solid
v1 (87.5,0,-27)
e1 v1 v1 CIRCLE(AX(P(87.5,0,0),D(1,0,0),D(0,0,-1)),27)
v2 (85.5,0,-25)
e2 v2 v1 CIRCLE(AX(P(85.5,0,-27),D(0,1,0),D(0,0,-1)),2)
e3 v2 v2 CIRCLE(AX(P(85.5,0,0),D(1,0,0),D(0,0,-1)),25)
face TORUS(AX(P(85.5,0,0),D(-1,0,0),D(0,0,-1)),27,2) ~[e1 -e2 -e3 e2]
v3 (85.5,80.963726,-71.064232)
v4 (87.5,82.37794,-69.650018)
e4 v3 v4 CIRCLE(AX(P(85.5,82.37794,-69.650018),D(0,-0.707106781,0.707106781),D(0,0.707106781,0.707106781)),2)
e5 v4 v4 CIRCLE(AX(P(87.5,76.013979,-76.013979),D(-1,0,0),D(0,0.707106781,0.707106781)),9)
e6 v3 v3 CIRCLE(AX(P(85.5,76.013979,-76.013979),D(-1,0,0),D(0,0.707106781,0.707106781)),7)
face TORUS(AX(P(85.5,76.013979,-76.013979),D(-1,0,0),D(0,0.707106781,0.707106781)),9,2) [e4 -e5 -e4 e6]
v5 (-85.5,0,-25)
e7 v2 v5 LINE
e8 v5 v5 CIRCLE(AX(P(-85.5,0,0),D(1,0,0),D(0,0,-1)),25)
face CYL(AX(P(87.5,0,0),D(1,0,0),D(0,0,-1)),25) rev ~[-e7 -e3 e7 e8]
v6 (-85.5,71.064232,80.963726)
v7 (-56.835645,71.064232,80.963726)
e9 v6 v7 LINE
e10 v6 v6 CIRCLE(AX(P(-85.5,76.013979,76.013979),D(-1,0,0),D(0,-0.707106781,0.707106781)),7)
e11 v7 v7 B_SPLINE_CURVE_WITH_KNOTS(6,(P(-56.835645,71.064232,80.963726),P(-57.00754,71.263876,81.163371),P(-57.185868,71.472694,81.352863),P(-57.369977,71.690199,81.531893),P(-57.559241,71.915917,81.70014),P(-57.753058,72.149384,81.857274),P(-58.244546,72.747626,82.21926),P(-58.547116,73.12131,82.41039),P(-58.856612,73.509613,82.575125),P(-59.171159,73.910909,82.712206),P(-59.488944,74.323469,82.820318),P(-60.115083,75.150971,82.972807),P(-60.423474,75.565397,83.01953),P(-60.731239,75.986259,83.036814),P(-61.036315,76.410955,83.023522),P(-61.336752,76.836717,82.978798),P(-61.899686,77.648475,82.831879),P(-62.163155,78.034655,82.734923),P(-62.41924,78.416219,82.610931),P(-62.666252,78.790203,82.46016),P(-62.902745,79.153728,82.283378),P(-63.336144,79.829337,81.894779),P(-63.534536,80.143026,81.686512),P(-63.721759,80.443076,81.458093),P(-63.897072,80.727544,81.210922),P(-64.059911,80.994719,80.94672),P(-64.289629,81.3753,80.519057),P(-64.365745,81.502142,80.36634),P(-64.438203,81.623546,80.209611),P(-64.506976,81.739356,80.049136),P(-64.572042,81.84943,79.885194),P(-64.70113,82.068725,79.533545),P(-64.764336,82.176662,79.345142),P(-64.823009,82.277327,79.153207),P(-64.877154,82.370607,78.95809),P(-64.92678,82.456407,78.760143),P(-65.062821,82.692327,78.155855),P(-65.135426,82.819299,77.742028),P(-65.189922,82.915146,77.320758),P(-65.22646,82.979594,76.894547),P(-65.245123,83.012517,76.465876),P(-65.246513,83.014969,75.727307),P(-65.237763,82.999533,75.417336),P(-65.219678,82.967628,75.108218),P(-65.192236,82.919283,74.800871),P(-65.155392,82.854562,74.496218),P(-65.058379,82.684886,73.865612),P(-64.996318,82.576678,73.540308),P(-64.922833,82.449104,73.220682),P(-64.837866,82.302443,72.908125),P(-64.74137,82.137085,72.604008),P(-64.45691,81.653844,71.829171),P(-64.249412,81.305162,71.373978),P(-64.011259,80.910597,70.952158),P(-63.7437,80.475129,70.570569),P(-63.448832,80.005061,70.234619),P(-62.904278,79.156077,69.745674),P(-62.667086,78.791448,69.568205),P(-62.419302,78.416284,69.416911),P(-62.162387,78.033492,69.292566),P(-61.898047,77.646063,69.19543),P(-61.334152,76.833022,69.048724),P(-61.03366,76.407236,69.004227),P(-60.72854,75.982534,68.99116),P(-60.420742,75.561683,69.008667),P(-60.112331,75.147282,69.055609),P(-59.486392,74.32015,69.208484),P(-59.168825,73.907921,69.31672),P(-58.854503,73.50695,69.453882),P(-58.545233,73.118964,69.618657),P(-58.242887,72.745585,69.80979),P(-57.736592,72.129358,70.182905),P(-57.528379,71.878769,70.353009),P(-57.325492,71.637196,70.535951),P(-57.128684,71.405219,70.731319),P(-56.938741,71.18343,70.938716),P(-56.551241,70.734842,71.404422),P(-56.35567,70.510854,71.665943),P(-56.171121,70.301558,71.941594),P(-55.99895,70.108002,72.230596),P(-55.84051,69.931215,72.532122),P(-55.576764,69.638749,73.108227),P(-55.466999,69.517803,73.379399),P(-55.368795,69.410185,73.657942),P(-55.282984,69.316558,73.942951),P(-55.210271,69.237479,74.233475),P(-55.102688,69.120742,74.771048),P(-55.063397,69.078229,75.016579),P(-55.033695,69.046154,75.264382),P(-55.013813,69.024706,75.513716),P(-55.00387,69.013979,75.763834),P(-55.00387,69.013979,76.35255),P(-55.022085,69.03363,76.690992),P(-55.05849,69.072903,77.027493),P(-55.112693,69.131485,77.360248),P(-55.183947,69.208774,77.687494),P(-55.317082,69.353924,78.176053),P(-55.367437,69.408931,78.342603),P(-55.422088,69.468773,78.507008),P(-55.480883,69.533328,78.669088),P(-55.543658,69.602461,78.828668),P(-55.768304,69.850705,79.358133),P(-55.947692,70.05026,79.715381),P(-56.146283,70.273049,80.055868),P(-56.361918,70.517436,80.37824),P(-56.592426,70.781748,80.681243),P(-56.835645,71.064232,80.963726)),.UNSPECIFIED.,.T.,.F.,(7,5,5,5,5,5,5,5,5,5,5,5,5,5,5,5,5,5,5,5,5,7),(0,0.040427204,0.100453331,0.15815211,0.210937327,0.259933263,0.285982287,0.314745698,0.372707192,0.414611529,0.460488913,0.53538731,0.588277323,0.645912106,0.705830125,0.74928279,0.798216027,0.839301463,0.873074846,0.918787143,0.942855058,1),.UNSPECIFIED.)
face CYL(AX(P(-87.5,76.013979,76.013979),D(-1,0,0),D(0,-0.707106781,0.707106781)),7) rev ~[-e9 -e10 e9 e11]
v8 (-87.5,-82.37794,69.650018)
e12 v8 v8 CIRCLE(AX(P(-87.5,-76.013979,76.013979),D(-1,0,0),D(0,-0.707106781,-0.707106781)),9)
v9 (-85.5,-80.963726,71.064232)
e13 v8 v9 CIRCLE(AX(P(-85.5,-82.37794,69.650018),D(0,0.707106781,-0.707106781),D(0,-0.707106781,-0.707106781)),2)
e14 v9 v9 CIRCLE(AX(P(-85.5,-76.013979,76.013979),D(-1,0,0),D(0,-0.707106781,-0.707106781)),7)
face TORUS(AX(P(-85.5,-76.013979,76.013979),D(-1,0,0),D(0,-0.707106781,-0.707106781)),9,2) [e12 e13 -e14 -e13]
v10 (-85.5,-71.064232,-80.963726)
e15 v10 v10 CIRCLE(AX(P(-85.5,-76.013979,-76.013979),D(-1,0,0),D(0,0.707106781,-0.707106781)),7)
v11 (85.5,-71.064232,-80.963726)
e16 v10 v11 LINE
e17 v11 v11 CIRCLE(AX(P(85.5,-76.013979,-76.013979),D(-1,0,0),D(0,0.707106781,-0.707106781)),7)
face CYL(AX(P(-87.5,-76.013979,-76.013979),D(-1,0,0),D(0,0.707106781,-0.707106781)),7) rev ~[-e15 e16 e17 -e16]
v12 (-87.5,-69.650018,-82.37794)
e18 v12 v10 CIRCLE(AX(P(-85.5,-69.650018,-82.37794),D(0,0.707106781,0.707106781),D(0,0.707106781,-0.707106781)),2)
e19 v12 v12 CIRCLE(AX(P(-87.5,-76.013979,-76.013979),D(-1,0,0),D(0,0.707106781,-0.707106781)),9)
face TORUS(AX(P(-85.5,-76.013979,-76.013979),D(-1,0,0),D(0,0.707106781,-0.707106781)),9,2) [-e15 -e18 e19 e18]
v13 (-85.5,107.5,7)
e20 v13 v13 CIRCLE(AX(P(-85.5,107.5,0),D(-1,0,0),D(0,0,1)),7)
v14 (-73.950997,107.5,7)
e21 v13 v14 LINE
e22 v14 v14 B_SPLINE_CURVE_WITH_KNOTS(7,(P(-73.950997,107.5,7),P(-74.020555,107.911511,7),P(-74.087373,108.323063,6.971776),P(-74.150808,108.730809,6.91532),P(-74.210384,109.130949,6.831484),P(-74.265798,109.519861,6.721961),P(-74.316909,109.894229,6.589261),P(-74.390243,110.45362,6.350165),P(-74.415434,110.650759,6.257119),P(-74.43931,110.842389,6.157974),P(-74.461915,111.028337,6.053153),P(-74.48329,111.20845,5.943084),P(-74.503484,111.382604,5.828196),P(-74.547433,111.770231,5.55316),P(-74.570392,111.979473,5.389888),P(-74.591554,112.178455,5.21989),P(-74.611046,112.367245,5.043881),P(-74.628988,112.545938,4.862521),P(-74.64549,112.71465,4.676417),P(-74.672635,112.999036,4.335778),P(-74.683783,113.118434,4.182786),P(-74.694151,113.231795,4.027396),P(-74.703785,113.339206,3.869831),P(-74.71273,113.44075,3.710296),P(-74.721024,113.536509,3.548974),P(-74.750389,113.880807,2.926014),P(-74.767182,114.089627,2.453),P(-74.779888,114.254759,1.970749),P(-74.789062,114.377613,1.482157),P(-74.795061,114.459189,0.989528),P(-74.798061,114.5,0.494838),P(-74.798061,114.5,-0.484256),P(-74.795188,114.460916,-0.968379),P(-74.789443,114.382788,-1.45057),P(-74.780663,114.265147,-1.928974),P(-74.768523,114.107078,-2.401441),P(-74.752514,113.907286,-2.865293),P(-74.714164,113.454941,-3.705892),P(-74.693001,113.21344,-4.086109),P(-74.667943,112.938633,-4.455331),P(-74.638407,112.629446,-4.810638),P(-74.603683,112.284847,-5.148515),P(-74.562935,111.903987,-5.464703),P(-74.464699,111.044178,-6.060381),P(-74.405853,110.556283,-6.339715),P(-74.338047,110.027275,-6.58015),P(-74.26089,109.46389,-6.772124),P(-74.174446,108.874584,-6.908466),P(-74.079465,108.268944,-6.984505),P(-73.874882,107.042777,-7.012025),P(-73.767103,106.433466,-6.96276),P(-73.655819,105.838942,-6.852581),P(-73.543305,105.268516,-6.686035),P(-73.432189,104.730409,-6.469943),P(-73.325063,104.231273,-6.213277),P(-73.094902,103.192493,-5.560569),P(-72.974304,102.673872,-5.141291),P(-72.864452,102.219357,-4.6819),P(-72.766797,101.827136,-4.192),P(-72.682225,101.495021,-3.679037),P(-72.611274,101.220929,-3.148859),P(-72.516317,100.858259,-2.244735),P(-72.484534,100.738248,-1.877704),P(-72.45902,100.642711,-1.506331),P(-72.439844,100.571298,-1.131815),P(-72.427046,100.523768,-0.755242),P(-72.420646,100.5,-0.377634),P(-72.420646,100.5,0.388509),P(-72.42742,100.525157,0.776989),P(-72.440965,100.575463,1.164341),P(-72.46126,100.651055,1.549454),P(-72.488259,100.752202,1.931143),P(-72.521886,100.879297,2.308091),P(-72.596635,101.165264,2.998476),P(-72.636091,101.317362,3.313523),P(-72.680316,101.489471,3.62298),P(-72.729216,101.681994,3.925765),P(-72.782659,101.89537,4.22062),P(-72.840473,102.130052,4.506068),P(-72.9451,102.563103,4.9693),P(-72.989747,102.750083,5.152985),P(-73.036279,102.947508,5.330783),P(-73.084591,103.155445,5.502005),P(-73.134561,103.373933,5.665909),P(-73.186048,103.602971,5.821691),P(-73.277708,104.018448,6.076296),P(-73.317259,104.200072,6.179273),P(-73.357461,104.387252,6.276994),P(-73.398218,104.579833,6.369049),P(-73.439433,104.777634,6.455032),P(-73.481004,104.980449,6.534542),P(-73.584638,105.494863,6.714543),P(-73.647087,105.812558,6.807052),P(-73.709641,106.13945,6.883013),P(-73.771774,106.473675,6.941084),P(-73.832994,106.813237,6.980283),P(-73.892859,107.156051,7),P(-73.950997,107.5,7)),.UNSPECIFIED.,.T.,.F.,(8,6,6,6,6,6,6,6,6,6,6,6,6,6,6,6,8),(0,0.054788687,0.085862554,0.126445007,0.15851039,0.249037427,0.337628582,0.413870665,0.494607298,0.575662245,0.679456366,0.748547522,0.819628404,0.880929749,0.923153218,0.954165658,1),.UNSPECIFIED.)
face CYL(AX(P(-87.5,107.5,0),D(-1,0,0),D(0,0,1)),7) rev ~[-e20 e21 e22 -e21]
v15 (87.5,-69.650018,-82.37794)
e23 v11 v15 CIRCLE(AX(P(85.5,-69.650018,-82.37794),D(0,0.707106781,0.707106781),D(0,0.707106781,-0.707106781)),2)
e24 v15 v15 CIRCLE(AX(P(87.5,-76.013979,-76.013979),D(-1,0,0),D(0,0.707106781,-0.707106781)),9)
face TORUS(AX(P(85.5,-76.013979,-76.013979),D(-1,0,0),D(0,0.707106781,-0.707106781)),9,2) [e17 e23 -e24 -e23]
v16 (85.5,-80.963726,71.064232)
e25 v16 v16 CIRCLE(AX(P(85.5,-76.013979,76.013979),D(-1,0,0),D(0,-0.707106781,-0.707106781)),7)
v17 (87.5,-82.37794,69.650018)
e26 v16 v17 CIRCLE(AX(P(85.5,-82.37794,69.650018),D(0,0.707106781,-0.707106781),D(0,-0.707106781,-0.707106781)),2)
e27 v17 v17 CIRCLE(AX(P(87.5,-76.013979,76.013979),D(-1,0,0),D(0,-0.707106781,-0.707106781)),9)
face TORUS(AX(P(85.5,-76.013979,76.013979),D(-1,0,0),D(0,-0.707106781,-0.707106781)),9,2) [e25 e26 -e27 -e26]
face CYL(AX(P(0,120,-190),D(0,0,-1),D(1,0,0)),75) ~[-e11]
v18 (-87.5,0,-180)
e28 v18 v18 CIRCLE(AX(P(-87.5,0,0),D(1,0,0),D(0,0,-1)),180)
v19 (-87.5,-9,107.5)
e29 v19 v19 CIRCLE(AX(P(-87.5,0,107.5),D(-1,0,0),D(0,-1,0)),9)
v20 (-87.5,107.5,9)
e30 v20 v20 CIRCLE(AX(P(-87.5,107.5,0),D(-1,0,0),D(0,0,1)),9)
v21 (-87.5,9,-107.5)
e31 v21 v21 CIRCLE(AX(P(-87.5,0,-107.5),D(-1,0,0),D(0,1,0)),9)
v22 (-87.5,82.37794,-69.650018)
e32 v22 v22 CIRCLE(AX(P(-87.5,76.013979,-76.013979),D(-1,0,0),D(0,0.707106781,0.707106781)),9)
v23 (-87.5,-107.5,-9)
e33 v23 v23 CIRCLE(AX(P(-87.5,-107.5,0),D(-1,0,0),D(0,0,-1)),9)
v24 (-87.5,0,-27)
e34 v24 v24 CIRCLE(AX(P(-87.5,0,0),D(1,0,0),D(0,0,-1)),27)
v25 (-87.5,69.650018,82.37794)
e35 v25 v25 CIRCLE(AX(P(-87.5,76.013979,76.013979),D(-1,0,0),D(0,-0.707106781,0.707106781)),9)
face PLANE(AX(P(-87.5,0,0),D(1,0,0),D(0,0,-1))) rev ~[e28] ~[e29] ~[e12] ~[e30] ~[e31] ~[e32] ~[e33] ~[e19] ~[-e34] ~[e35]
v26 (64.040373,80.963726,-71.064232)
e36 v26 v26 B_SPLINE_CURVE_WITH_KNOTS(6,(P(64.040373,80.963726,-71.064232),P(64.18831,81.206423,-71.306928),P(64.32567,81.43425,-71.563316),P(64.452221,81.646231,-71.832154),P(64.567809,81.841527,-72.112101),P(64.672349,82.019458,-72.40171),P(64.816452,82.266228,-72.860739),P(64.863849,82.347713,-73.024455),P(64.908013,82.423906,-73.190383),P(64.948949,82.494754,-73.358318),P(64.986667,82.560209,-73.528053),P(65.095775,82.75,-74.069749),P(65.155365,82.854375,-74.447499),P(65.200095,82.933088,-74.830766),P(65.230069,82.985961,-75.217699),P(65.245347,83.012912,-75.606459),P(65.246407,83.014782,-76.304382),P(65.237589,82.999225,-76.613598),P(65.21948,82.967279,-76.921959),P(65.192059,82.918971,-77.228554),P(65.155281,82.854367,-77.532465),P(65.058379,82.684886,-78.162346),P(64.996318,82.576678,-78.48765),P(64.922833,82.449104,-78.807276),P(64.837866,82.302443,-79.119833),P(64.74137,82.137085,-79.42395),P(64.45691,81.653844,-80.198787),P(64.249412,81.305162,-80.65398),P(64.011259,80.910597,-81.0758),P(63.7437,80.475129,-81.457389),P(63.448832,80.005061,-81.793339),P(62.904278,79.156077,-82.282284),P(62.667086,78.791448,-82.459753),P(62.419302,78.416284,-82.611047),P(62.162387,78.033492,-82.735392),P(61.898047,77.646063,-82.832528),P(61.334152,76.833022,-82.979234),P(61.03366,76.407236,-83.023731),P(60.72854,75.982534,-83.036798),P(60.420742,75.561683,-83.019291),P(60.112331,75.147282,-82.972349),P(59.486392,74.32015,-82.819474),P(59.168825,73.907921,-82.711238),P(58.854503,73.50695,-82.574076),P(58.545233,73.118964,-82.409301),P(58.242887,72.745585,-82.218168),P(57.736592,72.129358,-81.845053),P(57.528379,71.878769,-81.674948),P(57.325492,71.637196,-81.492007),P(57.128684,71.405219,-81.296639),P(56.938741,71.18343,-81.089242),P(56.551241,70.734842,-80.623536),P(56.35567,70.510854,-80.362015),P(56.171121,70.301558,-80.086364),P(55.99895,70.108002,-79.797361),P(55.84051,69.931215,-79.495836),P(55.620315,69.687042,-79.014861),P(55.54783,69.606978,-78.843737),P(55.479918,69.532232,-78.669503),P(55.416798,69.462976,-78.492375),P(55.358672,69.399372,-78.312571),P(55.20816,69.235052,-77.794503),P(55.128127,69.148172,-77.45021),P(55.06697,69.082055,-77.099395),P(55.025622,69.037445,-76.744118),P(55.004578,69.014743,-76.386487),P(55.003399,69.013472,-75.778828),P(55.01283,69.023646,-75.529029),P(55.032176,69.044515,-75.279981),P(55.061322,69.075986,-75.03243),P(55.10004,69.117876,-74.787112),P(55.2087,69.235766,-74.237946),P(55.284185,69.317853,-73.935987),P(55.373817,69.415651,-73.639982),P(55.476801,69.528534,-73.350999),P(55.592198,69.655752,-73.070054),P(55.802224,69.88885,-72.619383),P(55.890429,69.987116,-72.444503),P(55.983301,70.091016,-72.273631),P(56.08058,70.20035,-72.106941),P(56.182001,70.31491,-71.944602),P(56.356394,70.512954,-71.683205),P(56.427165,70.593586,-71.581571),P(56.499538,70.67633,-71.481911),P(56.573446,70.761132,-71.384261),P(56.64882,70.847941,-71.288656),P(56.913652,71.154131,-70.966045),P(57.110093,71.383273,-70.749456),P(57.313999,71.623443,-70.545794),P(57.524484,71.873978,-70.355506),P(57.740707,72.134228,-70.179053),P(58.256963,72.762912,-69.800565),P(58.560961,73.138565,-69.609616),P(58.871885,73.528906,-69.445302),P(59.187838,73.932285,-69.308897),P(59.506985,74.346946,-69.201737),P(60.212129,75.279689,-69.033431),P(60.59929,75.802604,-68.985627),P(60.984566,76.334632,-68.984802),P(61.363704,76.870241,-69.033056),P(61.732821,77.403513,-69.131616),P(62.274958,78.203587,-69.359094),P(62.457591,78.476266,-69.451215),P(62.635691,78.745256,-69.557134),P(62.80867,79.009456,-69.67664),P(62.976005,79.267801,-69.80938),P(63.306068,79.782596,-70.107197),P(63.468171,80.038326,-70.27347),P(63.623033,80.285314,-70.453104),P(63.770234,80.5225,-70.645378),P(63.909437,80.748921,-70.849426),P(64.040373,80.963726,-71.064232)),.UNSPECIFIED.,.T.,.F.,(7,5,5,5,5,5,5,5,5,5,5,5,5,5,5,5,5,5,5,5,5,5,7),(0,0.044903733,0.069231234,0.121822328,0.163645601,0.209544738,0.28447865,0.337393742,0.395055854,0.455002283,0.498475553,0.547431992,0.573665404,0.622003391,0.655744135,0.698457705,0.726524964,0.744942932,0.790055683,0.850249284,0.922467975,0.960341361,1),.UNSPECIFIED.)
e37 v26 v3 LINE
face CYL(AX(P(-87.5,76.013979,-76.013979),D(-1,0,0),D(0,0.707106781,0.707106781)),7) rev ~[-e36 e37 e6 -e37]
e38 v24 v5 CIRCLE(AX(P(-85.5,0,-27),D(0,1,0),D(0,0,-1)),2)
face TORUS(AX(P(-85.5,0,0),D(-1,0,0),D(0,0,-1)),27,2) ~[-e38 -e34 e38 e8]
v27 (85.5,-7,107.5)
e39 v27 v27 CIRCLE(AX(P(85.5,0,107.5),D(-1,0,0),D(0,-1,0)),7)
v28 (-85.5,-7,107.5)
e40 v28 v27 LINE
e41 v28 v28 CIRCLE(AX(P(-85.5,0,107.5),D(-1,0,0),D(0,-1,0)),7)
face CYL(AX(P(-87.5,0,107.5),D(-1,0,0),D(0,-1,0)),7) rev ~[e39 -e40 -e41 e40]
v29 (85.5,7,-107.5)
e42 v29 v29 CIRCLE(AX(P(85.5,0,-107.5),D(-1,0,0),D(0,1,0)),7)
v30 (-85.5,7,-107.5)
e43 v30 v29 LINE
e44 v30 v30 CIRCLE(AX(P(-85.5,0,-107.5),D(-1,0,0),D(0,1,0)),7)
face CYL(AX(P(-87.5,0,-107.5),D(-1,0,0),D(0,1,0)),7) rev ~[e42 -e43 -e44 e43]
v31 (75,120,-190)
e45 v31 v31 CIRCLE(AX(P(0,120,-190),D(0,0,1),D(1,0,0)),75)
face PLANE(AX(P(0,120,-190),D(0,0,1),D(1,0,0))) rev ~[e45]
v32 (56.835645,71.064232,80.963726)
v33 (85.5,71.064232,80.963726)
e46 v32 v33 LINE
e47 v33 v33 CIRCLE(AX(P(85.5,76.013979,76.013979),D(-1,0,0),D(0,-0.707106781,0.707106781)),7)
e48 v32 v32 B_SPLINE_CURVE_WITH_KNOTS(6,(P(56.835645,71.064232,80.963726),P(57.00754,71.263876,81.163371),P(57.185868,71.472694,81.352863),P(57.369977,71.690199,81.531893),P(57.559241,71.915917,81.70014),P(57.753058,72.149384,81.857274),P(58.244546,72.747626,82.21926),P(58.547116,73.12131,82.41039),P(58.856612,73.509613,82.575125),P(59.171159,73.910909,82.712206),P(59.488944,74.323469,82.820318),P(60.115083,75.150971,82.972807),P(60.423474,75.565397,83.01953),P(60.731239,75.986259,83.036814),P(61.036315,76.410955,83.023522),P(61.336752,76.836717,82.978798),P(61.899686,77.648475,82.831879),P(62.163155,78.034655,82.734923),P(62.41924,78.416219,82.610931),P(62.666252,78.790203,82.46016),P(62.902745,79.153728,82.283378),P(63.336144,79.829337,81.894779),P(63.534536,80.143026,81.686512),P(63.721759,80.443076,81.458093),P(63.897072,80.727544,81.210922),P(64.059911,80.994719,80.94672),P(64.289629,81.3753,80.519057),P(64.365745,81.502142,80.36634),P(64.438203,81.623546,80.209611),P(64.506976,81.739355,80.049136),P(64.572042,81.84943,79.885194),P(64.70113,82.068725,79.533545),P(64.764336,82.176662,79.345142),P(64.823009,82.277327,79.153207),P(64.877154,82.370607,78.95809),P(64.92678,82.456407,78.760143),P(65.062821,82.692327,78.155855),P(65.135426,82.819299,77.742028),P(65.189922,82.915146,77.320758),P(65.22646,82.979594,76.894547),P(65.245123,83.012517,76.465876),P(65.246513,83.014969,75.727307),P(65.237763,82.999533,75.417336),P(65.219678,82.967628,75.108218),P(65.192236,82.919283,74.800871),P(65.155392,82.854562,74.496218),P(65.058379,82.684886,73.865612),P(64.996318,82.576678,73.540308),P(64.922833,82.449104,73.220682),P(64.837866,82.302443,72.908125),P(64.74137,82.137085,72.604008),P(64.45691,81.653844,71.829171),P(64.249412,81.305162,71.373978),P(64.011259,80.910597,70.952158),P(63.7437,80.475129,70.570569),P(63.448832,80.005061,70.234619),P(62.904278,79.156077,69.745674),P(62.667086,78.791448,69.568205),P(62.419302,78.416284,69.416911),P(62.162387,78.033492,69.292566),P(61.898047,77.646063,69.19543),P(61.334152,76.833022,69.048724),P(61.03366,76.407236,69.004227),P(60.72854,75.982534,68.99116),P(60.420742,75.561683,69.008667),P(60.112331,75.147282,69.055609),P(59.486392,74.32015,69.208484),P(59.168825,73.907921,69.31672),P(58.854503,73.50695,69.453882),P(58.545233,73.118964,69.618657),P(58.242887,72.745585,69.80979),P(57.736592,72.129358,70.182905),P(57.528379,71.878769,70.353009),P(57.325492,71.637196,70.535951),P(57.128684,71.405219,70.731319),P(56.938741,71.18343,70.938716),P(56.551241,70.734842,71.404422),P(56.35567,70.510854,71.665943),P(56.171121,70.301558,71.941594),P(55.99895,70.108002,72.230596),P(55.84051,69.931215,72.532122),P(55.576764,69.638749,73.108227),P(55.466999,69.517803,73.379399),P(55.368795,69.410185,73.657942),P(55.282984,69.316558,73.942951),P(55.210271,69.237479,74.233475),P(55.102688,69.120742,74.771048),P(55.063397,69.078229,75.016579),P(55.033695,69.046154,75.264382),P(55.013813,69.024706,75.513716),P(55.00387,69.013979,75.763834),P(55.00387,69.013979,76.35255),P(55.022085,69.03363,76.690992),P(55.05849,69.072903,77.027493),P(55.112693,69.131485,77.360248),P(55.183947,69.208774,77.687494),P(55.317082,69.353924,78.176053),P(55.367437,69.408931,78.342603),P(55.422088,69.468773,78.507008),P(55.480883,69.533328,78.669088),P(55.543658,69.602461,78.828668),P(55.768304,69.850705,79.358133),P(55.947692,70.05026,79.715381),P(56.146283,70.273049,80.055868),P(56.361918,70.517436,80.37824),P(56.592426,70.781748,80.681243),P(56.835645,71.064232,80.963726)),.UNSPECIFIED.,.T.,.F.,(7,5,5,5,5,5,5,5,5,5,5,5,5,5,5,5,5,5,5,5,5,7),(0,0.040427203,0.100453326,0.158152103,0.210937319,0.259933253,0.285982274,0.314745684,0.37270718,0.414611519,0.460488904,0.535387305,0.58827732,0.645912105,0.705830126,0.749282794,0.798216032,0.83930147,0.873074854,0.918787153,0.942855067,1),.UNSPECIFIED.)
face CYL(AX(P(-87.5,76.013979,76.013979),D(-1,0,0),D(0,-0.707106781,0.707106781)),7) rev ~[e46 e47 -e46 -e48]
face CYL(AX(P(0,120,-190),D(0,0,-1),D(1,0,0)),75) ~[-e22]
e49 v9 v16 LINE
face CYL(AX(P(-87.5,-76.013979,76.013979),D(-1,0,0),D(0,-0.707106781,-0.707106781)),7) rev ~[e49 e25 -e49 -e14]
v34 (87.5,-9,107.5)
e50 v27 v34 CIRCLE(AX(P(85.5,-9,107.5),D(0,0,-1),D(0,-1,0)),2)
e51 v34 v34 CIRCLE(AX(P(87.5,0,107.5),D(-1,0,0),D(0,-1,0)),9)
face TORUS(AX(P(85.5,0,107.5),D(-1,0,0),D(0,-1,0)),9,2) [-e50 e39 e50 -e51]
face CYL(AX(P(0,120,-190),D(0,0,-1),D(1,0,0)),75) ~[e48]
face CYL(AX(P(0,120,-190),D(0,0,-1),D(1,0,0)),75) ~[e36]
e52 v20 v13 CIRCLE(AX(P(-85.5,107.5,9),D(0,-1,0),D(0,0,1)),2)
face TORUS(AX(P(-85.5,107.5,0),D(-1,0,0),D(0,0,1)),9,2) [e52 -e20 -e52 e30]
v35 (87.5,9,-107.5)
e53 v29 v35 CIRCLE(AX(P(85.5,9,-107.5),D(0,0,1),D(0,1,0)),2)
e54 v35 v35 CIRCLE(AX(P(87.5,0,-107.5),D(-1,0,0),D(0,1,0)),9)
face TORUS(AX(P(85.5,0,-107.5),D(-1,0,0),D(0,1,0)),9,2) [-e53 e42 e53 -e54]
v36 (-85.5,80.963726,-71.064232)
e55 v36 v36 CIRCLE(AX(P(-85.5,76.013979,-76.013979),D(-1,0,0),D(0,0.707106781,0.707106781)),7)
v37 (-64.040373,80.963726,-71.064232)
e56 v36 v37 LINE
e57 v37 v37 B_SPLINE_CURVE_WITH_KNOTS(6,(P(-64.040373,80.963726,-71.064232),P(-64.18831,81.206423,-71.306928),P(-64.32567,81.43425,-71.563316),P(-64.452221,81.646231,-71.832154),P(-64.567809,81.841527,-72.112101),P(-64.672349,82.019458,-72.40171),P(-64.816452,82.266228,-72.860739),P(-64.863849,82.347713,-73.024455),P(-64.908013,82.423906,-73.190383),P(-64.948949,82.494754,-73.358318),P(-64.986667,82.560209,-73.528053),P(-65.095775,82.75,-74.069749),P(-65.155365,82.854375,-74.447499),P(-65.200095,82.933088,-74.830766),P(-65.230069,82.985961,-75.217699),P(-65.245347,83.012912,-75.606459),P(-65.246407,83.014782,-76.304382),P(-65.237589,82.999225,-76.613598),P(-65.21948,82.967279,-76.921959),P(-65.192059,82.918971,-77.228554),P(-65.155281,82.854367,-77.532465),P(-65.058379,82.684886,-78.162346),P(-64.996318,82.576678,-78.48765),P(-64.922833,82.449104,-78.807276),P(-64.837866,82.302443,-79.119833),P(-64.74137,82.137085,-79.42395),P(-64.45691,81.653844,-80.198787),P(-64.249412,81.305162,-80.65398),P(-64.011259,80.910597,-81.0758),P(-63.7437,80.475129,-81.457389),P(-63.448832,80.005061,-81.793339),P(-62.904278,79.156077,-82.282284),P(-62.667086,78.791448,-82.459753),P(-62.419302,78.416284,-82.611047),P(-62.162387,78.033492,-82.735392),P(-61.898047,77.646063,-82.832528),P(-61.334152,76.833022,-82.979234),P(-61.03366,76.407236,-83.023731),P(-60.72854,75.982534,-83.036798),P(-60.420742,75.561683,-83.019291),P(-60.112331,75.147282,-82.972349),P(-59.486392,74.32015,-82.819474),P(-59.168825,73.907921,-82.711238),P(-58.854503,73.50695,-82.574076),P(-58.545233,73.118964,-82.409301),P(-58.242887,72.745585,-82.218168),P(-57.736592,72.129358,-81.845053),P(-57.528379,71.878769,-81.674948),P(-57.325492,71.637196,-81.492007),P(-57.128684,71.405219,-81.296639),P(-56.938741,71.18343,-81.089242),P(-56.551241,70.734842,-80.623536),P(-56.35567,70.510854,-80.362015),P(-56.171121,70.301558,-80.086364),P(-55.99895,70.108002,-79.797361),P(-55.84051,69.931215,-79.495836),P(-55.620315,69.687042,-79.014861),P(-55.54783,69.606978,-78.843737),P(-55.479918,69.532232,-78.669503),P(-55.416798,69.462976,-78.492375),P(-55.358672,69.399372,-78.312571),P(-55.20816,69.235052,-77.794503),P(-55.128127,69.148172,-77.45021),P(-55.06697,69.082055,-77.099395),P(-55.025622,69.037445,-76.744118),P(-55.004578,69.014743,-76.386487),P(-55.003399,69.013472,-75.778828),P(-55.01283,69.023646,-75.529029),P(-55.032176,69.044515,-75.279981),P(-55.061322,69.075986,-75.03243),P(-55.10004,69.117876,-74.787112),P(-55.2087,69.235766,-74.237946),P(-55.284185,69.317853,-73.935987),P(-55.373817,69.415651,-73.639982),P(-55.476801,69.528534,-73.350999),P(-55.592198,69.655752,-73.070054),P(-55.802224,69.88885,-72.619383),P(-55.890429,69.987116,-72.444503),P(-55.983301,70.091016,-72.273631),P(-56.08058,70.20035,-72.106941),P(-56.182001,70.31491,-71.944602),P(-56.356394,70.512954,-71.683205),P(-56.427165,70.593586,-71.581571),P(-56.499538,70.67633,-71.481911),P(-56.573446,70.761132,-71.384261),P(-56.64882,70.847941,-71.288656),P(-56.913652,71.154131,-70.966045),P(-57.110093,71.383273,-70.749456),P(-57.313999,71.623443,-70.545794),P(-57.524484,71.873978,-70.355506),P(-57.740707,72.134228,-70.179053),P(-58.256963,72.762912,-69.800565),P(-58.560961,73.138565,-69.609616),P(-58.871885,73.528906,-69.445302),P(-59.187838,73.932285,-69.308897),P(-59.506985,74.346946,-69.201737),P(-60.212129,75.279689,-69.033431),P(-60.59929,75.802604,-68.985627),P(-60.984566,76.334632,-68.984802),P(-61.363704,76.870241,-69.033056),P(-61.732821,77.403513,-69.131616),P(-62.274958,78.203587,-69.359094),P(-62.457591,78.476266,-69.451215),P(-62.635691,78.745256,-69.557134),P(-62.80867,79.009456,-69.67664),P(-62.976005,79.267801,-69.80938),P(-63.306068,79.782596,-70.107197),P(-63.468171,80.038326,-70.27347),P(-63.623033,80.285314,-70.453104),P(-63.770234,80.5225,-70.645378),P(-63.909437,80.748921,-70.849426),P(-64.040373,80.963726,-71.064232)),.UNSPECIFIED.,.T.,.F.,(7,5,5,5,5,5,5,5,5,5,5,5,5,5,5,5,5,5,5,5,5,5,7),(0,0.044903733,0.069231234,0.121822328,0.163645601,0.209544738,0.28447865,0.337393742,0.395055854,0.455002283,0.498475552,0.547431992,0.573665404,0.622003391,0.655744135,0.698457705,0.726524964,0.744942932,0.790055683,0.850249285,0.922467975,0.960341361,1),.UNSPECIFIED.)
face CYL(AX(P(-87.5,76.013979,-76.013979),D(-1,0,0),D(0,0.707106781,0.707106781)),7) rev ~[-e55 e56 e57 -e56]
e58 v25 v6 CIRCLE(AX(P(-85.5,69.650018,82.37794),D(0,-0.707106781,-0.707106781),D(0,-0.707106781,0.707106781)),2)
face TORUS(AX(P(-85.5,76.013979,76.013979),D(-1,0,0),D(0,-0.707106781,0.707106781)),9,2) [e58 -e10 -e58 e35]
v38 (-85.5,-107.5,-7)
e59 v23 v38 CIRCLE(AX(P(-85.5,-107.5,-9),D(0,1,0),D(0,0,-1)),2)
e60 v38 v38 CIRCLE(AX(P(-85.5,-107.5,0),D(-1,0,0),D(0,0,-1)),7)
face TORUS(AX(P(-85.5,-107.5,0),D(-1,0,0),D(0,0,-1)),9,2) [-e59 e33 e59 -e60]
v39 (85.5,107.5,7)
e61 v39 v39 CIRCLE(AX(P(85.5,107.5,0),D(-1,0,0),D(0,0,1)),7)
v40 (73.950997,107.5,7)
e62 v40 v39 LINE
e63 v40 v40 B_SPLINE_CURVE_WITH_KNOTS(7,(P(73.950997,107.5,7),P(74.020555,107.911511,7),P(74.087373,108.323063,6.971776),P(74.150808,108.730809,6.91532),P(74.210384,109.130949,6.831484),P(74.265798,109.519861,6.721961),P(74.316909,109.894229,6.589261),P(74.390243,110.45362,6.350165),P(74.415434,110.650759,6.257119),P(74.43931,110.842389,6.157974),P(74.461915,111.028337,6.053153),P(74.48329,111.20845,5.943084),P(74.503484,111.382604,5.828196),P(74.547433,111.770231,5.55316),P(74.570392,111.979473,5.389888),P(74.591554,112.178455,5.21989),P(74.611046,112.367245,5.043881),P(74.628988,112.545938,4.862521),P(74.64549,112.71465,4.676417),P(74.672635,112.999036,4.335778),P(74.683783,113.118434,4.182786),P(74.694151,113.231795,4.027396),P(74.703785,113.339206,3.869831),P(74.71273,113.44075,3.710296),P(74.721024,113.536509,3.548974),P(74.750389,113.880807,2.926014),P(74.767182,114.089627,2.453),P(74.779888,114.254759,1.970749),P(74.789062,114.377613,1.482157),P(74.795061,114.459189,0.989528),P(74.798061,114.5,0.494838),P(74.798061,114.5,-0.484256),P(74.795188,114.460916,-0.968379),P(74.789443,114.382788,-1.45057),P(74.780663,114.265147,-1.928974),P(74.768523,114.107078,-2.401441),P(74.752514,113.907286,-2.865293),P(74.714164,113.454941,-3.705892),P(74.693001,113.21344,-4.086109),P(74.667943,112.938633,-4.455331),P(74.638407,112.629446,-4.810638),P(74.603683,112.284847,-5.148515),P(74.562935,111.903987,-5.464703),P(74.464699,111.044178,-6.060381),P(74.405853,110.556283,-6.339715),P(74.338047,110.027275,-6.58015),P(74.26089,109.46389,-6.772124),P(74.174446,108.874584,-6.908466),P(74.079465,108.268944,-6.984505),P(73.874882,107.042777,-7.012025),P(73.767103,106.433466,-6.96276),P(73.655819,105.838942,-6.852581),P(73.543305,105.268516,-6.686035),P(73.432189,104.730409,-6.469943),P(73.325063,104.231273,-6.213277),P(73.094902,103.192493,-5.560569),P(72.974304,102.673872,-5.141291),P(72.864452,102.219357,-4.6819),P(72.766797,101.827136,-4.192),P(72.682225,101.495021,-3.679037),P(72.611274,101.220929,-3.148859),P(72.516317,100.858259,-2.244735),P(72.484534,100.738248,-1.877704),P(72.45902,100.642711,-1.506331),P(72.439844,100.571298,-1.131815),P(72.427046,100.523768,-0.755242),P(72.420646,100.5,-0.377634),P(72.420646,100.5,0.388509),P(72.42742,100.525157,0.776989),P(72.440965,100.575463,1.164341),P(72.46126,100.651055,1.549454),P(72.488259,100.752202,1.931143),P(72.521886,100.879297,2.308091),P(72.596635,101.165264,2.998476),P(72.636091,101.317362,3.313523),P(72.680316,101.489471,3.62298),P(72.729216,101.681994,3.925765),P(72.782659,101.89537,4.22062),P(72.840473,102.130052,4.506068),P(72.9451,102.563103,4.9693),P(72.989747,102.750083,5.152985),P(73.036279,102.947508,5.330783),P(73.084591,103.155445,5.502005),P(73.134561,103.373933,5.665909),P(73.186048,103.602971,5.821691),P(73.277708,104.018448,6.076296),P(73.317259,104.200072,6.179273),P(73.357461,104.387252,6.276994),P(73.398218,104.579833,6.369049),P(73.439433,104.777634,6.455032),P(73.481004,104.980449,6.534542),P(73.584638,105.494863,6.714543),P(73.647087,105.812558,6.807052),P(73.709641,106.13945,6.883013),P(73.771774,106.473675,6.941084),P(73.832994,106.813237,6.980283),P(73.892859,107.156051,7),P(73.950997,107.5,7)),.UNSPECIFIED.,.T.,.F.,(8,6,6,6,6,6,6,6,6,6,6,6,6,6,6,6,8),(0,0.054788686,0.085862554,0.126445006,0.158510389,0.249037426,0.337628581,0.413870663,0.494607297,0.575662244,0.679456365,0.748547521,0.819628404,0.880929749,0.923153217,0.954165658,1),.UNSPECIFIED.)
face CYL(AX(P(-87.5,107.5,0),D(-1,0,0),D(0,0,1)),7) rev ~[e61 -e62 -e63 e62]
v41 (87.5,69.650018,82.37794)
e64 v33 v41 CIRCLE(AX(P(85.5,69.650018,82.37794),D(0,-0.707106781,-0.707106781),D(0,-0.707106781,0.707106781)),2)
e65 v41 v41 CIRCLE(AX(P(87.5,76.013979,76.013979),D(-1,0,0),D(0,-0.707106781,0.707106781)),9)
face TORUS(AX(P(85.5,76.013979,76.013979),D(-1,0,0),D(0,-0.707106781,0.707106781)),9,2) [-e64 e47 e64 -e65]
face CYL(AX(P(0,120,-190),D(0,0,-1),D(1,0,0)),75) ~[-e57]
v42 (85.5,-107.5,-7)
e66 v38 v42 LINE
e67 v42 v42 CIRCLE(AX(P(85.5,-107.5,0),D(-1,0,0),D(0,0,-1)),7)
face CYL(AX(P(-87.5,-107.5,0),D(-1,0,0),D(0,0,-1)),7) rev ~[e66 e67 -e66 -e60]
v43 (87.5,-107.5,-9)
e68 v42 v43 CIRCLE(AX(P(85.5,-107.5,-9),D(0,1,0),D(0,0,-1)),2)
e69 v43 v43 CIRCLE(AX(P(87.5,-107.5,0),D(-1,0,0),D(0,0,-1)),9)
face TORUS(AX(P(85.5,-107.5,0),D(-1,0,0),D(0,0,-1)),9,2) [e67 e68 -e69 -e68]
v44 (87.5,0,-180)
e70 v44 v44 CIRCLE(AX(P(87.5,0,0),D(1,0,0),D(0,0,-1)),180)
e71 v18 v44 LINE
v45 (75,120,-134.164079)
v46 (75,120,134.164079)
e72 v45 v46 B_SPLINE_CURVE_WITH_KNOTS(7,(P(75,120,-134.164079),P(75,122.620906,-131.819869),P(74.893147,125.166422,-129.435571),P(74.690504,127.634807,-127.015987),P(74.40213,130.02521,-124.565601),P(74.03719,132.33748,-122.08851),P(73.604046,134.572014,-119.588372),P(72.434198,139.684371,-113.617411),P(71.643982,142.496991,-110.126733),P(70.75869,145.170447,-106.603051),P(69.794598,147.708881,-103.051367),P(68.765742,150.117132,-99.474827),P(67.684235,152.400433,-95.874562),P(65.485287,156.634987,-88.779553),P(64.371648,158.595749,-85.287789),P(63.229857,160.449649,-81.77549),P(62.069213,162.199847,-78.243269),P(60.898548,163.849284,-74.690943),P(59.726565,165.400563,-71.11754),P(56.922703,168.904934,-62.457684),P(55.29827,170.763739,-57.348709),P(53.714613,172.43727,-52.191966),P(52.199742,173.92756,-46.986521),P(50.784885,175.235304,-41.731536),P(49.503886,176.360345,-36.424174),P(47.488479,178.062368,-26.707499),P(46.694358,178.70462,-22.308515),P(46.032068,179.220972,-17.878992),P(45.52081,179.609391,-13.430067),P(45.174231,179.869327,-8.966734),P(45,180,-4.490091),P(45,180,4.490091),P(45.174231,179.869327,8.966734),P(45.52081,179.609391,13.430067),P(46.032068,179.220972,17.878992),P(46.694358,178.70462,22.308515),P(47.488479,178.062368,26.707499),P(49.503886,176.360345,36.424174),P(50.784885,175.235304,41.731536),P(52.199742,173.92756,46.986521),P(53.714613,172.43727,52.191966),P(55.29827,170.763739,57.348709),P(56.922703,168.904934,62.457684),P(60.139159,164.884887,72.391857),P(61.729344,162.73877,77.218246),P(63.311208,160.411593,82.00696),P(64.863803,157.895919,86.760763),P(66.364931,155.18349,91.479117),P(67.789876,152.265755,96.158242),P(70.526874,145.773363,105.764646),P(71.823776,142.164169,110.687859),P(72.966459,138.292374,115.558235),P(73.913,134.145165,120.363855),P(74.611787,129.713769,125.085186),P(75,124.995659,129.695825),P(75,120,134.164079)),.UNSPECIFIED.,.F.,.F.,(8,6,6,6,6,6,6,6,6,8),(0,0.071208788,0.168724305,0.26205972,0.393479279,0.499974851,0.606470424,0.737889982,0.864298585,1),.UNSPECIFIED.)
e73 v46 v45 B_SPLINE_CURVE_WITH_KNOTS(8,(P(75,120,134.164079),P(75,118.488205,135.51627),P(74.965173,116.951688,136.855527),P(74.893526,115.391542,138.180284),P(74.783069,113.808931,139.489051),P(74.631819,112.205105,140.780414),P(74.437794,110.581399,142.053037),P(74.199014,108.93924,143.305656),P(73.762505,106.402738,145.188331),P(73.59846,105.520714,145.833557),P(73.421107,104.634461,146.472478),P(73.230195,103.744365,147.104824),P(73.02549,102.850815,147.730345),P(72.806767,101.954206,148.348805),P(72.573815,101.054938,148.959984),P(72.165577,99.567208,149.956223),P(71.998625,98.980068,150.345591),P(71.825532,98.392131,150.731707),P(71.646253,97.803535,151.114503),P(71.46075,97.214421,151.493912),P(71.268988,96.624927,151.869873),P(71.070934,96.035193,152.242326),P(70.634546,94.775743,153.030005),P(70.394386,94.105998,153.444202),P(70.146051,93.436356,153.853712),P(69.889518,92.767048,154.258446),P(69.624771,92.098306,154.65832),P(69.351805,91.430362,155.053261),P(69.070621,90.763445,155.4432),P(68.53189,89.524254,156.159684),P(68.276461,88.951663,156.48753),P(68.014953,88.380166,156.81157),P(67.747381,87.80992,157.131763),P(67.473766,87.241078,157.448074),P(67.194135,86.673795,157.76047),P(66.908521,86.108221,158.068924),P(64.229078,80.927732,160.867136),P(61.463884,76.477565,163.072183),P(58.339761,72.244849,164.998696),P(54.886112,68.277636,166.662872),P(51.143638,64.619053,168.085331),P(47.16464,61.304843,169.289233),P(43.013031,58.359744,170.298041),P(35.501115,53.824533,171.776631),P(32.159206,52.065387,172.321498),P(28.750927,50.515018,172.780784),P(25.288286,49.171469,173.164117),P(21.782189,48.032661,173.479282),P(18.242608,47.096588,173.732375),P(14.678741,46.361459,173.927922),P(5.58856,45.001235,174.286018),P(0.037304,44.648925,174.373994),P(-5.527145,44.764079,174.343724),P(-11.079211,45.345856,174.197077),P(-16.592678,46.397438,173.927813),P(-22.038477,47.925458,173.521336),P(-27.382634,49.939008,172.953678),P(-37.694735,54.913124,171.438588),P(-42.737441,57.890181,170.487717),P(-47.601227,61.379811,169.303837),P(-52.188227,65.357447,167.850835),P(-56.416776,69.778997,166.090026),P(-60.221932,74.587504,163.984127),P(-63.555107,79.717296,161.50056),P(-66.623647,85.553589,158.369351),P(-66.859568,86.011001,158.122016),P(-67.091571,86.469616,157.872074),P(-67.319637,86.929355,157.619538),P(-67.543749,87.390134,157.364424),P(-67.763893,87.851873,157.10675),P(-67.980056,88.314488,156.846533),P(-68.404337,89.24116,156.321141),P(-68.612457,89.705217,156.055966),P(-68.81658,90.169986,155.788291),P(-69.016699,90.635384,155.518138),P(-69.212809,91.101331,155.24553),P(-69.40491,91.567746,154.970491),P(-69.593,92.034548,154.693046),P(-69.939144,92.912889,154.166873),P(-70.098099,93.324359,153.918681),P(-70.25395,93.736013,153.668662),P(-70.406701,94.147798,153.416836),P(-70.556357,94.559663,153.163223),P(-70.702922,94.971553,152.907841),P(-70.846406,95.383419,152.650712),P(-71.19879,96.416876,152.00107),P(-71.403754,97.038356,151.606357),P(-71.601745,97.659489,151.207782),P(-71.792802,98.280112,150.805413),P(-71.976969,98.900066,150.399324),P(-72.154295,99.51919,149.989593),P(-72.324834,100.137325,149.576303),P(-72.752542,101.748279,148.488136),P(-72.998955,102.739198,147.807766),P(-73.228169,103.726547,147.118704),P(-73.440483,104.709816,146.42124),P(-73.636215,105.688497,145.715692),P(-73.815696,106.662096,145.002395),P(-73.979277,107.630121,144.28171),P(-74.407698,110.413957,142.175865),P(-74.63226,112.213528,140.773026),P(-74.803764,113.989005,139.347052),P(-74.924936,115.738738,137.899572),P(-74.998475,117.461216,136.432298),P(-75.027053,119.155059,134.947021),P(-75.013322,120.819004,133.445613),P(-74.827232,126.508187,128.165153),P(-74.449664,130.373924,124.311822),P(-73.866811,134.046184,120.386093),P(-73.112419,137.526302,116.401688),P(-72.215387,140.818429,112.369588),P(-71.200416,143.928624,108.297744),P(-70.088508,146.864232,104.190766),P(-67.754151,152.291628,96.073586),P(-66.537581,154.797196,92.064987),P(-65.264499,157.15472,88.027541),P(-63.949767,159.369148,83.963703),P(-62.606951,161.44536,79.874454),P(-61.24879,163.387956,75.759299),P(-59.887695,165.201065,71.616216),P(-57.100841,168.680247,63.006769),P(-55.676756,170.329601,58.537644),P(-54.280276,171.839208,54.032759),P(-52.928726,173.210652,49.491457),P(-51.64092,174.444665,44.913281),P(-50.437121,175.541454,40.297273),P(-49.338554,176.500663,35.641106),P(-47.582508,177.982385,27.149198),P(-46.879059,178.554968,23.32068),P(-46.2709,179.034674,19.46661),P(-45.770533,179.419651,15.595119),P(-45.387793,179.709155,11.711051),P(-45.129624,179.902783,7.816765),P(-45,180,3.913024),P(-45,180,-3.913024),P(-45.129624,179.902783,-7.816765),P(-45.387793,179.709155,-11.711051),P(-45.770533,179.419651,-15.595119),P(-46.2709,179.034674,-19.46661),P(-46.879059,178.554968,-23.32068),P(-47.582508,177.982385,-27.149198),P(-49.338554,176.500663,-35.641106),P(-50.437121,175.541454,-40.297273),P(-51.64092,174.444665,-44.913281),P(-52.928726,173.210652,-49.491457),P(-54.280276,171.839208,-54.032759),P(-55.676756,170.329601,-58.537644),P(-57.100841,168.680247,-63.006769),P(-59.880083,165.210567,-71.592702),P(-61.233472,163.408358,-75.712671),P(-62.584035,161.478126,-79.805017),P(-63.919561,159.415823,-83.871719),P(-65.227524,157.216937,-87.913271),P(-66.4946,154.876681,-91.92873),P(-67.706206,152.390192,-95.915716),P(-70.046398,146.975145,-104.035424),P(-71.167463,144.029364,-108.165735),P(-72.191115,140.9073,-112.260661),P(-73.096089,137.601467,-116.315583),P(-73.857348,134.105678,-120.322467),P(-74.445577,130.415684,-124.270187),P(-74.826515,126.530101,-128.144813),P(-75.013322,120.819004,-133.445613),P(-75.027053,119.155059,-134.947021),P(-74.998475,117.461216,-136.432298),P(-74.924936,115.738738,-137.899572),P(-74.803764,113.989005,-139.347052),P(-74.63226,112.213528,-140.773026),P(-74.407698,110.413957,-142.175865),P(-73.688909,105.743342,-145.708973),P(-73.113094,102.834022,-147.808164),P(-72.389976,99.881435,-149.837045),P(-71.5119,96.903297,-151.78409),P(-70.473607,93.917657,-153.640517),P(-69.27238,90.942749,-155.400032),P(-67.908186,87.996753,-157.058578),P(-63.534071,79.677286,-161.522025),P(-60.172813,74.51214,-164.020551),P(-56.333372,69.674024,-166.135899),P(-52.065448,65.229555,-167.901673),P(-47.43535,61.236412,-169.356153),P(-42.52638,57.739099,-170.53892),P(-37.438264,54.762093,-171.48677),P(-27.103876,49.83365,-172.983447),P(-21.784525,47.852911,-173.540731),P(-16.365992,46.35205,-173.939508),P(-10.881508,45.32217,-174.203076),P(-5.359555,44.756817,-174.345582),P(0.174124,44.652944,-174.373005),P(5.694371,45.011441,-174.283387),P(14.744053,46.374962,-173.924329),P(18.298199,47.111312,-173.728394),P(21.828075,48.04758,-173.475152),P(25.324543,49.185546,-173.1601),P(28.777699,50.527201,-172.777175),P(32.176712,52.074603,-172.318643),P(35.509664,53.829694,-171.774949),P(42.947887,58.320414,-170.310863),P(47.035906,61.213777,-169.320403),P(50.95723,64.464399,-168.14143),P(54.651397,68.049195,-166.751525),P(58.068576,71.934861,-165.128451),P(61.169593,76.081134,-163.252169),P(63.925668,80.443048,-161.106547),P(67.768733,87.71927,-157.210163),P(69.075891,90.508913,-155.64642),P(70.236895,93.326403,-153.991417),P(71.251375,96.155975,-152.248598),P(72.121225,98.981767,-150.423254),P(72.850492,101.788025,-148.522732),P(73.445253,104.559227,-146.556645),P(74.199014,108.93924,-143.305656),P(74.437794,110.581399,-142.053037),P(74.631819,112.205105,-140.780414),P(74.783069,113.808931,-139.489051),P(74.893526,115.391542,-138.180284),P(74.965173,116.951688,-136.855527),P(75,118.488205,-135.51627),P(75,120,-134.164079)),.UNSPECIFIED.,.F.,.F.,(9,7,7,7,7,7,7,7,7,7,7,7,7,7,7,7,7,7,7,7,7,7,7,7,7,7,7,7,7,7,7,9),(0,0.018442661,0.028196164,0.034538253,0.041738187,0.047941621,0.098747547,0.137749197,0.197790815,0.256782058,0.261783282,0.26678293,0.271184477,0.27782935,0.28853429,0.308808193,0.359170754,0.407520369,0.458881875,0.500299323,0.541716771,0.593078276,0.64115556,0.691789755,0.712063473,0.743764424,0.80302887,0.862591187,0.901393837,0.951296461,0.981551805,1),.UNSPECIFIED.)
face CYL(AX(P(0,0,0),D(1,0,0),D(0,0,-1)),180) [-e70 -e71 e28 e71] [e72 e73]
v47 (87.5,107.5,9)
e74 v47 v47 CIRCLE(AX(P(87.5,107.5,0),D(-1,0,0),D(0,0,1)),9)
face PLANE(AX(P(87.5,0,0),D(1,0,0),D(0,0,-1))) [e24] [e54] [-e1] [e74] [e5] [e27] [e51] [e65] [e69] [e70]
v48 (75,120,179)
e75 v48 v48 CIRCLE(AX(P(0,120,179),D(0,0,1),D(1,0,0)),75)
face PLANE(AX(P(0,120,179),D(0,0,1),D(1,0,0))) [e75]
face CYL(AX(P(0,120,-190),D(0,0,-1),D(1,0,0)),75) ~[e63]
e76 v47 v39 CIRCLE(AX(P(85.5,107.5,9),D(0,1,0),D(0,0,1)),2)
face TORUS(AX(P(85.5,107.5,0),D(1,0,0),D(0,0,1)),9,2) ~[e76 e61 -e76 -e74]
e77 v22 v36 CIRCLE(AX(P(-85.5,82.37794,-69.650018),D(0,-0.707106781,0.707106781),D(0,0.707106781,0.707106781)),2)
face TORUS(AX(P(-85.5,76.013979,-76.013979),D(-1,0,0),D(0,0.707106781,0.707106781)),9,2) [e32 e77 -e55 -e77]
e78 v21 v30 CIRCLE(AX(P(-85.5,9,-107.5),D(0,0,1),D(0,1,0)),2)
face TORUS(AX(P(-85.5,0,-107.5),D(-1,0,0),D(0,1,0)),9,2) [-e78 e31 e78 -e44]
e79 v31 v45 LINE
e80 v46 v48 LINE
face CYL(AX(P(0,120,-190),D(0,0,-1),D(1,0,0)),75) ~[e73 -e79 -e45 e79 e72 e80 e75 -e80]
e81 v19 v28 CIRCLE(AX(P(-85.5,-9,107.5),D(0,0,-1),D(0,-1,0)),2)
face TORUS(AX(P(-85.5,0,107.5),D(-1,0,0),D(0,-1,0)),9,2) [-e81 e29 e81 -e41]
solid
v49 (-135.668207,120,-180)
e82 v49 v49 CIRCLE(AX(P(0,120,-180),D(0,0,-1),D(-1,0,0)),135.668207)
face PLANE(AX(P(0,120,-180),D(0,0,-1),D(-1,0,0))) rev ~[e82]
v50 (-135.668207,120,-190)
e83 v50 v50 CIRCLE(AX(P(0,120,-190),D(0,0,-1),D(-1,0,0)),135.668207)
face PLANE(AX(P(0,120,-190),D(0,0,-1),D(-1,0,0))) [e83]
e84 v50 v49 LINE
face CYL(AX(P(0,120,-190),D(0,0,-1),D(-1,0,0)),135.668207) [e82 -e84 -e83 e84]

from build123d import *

# Parameters (mm, degrees)
SKETCH1_R                = 180
BOSS_EXTRUDE1_DEPTH      = 87.5
SKETCH2_R                = 7
CUT_EXTRUDE1_DEPTH       = 309.909371823
FILLET1_R                = 2
CIRPATTERN1_COUNT        = 8
FILLET1_OF_CIRPATTERN1_R = 2
SKETCH3_R                = 25
CUT_EXTRUDE2_DEPTH       = 314.533341464
FILLET2_R                = 2
BOSS_EXTRUDE2_DEPTH      = 179
BOSS_EXTRUDE2_DEPTH_BACK = 190
SKETCH5_R                = 75
SKETCH6_R                = 135.668206722
BOSS_EXTRUDE3_DEPTH      = 10


with BuildPart() as part:
    # Sketch1 → Boss-Extrude1 (new, symmetric)
    with BuildSketch(Plane(origin=(0, 0, 0), x_dir=(0, 0, -1), z_dir=(1, 0, 0))):
        Circle(SKETCH1_R)
    extrude(amount=BOSS_EXTRUDE1_DEPTH, both=True)

    # Sketch2 → Cut-Extrude1 (cut, through all)
    with BuildSketch(Plane.ZY.offset(87.5)):
        with Locations((0, 107.5)):
            Circle(SKETCH2_R)
    cut_extrude1 = extrude(amount=-CUT_EXTRUDE1_DEPTH, mode=Mode.SUBTRACT)

    # Fillet1
    fillet1_edges = [part.edges().sort_by_distance(p)[0] for p in [
        (87.5, 107.5, -7),
        (-87.5, 107.5, -7),
    ]]
    fillet(fillet1_edges, radius=FILLET1_R)

    # CirPattern1: Cut-Extrude1 ×8 about axis
    cirpattern1_axis = Axis((0, 0, 0), (1, 0, 0))
    for i in range(1, CIRPATTERN1_COUNT):
        add(cut_extrude1.rotate(cirpattern1_axis, i * 360 / CIRPATTERN1_COUNT), mode=Mode.SUBTRACT)

    # Fillet1 of CirPattern1
    fillet1_of_cirpattern1_edges = [part.edges().sort_by_distance(p)[0] for p in [
        (87.5, 80.963726446, 71.064231509),
        (-87.5, 80.963726446, 71.064231509),
        (87.5, 7, 107.5),
        (-87.5, 7, 107.5),
        (87.5, -71.064231509, 80.963726446),
        (-87.5, -71.064231509, 80.963726446),
        (87.5, -107.5, 7),
        (-87.5, -107.5, 7),
        (87.5, -80.963726446, -71.064231509),
        (-87.5, -80.963726446, -71.064231509),
        (87.5, -7, -107.5),
        (-87.5, -7, -107.5),
        (87.5, 71.064231509, -80.963726446),
        (-87.5, 71.064231509, -80.963726446),
    ]]
    fillet(fillet1_of_cirpattern1_edges, radius=FILLET1_OF_CIRPATTERN1_R)

    # Sketch3 → Cut-Extrude2 (cut)
    with BuildSketch(Plane(origin=(87.5, 0, 0), x_dir=(0, 0, -1), z_dir=(1, 0, 0))):
        Circle(SKETCH3_R)
    extrude(amount=-CUT_EXTRUDE2_DEPTH, mode=Mode.SUBTRACT)

    # Fillet2
    fillet2_edges = [part.edges().sort_by_distance(p)[0] for p in [
        (-87.5, 0, 25),
        (87.5, 0, 25),
    ]]
    fillet(fillet2_edges, radius=FILLET2_R)

    # Sketch5 → Boss-Extrude2 (add, two sides: drawn at the far end of the back side and taken through both)
    with BuildSketch(Plane.XY.offset(-BOSS_EXTRUDE2_DEPTH_BACK)):
        with Locations((0, 120)):
            Circle(SKETCH5_R)
    extrude(amount=BOSS_EXTRUDE2_DEPTH + BOSS_EXTRUDE2_DEPTH_BACK)


with BuildPart() as body_2:
    # Sketch6 → Boss-Extrude3 (new body)
    with BuildSketch(Plane(origin=(0, 0, -190), x_dir=(-1, 0, 0), z_dir=(0, 0, -1))):
        with Locations((0, 120)):
            Circle(SKETCH6_R)
    extrude(amount=-BOSS_EXTRUDE3_DEPTH)


solid = Compound([part.part, body_2.part])
